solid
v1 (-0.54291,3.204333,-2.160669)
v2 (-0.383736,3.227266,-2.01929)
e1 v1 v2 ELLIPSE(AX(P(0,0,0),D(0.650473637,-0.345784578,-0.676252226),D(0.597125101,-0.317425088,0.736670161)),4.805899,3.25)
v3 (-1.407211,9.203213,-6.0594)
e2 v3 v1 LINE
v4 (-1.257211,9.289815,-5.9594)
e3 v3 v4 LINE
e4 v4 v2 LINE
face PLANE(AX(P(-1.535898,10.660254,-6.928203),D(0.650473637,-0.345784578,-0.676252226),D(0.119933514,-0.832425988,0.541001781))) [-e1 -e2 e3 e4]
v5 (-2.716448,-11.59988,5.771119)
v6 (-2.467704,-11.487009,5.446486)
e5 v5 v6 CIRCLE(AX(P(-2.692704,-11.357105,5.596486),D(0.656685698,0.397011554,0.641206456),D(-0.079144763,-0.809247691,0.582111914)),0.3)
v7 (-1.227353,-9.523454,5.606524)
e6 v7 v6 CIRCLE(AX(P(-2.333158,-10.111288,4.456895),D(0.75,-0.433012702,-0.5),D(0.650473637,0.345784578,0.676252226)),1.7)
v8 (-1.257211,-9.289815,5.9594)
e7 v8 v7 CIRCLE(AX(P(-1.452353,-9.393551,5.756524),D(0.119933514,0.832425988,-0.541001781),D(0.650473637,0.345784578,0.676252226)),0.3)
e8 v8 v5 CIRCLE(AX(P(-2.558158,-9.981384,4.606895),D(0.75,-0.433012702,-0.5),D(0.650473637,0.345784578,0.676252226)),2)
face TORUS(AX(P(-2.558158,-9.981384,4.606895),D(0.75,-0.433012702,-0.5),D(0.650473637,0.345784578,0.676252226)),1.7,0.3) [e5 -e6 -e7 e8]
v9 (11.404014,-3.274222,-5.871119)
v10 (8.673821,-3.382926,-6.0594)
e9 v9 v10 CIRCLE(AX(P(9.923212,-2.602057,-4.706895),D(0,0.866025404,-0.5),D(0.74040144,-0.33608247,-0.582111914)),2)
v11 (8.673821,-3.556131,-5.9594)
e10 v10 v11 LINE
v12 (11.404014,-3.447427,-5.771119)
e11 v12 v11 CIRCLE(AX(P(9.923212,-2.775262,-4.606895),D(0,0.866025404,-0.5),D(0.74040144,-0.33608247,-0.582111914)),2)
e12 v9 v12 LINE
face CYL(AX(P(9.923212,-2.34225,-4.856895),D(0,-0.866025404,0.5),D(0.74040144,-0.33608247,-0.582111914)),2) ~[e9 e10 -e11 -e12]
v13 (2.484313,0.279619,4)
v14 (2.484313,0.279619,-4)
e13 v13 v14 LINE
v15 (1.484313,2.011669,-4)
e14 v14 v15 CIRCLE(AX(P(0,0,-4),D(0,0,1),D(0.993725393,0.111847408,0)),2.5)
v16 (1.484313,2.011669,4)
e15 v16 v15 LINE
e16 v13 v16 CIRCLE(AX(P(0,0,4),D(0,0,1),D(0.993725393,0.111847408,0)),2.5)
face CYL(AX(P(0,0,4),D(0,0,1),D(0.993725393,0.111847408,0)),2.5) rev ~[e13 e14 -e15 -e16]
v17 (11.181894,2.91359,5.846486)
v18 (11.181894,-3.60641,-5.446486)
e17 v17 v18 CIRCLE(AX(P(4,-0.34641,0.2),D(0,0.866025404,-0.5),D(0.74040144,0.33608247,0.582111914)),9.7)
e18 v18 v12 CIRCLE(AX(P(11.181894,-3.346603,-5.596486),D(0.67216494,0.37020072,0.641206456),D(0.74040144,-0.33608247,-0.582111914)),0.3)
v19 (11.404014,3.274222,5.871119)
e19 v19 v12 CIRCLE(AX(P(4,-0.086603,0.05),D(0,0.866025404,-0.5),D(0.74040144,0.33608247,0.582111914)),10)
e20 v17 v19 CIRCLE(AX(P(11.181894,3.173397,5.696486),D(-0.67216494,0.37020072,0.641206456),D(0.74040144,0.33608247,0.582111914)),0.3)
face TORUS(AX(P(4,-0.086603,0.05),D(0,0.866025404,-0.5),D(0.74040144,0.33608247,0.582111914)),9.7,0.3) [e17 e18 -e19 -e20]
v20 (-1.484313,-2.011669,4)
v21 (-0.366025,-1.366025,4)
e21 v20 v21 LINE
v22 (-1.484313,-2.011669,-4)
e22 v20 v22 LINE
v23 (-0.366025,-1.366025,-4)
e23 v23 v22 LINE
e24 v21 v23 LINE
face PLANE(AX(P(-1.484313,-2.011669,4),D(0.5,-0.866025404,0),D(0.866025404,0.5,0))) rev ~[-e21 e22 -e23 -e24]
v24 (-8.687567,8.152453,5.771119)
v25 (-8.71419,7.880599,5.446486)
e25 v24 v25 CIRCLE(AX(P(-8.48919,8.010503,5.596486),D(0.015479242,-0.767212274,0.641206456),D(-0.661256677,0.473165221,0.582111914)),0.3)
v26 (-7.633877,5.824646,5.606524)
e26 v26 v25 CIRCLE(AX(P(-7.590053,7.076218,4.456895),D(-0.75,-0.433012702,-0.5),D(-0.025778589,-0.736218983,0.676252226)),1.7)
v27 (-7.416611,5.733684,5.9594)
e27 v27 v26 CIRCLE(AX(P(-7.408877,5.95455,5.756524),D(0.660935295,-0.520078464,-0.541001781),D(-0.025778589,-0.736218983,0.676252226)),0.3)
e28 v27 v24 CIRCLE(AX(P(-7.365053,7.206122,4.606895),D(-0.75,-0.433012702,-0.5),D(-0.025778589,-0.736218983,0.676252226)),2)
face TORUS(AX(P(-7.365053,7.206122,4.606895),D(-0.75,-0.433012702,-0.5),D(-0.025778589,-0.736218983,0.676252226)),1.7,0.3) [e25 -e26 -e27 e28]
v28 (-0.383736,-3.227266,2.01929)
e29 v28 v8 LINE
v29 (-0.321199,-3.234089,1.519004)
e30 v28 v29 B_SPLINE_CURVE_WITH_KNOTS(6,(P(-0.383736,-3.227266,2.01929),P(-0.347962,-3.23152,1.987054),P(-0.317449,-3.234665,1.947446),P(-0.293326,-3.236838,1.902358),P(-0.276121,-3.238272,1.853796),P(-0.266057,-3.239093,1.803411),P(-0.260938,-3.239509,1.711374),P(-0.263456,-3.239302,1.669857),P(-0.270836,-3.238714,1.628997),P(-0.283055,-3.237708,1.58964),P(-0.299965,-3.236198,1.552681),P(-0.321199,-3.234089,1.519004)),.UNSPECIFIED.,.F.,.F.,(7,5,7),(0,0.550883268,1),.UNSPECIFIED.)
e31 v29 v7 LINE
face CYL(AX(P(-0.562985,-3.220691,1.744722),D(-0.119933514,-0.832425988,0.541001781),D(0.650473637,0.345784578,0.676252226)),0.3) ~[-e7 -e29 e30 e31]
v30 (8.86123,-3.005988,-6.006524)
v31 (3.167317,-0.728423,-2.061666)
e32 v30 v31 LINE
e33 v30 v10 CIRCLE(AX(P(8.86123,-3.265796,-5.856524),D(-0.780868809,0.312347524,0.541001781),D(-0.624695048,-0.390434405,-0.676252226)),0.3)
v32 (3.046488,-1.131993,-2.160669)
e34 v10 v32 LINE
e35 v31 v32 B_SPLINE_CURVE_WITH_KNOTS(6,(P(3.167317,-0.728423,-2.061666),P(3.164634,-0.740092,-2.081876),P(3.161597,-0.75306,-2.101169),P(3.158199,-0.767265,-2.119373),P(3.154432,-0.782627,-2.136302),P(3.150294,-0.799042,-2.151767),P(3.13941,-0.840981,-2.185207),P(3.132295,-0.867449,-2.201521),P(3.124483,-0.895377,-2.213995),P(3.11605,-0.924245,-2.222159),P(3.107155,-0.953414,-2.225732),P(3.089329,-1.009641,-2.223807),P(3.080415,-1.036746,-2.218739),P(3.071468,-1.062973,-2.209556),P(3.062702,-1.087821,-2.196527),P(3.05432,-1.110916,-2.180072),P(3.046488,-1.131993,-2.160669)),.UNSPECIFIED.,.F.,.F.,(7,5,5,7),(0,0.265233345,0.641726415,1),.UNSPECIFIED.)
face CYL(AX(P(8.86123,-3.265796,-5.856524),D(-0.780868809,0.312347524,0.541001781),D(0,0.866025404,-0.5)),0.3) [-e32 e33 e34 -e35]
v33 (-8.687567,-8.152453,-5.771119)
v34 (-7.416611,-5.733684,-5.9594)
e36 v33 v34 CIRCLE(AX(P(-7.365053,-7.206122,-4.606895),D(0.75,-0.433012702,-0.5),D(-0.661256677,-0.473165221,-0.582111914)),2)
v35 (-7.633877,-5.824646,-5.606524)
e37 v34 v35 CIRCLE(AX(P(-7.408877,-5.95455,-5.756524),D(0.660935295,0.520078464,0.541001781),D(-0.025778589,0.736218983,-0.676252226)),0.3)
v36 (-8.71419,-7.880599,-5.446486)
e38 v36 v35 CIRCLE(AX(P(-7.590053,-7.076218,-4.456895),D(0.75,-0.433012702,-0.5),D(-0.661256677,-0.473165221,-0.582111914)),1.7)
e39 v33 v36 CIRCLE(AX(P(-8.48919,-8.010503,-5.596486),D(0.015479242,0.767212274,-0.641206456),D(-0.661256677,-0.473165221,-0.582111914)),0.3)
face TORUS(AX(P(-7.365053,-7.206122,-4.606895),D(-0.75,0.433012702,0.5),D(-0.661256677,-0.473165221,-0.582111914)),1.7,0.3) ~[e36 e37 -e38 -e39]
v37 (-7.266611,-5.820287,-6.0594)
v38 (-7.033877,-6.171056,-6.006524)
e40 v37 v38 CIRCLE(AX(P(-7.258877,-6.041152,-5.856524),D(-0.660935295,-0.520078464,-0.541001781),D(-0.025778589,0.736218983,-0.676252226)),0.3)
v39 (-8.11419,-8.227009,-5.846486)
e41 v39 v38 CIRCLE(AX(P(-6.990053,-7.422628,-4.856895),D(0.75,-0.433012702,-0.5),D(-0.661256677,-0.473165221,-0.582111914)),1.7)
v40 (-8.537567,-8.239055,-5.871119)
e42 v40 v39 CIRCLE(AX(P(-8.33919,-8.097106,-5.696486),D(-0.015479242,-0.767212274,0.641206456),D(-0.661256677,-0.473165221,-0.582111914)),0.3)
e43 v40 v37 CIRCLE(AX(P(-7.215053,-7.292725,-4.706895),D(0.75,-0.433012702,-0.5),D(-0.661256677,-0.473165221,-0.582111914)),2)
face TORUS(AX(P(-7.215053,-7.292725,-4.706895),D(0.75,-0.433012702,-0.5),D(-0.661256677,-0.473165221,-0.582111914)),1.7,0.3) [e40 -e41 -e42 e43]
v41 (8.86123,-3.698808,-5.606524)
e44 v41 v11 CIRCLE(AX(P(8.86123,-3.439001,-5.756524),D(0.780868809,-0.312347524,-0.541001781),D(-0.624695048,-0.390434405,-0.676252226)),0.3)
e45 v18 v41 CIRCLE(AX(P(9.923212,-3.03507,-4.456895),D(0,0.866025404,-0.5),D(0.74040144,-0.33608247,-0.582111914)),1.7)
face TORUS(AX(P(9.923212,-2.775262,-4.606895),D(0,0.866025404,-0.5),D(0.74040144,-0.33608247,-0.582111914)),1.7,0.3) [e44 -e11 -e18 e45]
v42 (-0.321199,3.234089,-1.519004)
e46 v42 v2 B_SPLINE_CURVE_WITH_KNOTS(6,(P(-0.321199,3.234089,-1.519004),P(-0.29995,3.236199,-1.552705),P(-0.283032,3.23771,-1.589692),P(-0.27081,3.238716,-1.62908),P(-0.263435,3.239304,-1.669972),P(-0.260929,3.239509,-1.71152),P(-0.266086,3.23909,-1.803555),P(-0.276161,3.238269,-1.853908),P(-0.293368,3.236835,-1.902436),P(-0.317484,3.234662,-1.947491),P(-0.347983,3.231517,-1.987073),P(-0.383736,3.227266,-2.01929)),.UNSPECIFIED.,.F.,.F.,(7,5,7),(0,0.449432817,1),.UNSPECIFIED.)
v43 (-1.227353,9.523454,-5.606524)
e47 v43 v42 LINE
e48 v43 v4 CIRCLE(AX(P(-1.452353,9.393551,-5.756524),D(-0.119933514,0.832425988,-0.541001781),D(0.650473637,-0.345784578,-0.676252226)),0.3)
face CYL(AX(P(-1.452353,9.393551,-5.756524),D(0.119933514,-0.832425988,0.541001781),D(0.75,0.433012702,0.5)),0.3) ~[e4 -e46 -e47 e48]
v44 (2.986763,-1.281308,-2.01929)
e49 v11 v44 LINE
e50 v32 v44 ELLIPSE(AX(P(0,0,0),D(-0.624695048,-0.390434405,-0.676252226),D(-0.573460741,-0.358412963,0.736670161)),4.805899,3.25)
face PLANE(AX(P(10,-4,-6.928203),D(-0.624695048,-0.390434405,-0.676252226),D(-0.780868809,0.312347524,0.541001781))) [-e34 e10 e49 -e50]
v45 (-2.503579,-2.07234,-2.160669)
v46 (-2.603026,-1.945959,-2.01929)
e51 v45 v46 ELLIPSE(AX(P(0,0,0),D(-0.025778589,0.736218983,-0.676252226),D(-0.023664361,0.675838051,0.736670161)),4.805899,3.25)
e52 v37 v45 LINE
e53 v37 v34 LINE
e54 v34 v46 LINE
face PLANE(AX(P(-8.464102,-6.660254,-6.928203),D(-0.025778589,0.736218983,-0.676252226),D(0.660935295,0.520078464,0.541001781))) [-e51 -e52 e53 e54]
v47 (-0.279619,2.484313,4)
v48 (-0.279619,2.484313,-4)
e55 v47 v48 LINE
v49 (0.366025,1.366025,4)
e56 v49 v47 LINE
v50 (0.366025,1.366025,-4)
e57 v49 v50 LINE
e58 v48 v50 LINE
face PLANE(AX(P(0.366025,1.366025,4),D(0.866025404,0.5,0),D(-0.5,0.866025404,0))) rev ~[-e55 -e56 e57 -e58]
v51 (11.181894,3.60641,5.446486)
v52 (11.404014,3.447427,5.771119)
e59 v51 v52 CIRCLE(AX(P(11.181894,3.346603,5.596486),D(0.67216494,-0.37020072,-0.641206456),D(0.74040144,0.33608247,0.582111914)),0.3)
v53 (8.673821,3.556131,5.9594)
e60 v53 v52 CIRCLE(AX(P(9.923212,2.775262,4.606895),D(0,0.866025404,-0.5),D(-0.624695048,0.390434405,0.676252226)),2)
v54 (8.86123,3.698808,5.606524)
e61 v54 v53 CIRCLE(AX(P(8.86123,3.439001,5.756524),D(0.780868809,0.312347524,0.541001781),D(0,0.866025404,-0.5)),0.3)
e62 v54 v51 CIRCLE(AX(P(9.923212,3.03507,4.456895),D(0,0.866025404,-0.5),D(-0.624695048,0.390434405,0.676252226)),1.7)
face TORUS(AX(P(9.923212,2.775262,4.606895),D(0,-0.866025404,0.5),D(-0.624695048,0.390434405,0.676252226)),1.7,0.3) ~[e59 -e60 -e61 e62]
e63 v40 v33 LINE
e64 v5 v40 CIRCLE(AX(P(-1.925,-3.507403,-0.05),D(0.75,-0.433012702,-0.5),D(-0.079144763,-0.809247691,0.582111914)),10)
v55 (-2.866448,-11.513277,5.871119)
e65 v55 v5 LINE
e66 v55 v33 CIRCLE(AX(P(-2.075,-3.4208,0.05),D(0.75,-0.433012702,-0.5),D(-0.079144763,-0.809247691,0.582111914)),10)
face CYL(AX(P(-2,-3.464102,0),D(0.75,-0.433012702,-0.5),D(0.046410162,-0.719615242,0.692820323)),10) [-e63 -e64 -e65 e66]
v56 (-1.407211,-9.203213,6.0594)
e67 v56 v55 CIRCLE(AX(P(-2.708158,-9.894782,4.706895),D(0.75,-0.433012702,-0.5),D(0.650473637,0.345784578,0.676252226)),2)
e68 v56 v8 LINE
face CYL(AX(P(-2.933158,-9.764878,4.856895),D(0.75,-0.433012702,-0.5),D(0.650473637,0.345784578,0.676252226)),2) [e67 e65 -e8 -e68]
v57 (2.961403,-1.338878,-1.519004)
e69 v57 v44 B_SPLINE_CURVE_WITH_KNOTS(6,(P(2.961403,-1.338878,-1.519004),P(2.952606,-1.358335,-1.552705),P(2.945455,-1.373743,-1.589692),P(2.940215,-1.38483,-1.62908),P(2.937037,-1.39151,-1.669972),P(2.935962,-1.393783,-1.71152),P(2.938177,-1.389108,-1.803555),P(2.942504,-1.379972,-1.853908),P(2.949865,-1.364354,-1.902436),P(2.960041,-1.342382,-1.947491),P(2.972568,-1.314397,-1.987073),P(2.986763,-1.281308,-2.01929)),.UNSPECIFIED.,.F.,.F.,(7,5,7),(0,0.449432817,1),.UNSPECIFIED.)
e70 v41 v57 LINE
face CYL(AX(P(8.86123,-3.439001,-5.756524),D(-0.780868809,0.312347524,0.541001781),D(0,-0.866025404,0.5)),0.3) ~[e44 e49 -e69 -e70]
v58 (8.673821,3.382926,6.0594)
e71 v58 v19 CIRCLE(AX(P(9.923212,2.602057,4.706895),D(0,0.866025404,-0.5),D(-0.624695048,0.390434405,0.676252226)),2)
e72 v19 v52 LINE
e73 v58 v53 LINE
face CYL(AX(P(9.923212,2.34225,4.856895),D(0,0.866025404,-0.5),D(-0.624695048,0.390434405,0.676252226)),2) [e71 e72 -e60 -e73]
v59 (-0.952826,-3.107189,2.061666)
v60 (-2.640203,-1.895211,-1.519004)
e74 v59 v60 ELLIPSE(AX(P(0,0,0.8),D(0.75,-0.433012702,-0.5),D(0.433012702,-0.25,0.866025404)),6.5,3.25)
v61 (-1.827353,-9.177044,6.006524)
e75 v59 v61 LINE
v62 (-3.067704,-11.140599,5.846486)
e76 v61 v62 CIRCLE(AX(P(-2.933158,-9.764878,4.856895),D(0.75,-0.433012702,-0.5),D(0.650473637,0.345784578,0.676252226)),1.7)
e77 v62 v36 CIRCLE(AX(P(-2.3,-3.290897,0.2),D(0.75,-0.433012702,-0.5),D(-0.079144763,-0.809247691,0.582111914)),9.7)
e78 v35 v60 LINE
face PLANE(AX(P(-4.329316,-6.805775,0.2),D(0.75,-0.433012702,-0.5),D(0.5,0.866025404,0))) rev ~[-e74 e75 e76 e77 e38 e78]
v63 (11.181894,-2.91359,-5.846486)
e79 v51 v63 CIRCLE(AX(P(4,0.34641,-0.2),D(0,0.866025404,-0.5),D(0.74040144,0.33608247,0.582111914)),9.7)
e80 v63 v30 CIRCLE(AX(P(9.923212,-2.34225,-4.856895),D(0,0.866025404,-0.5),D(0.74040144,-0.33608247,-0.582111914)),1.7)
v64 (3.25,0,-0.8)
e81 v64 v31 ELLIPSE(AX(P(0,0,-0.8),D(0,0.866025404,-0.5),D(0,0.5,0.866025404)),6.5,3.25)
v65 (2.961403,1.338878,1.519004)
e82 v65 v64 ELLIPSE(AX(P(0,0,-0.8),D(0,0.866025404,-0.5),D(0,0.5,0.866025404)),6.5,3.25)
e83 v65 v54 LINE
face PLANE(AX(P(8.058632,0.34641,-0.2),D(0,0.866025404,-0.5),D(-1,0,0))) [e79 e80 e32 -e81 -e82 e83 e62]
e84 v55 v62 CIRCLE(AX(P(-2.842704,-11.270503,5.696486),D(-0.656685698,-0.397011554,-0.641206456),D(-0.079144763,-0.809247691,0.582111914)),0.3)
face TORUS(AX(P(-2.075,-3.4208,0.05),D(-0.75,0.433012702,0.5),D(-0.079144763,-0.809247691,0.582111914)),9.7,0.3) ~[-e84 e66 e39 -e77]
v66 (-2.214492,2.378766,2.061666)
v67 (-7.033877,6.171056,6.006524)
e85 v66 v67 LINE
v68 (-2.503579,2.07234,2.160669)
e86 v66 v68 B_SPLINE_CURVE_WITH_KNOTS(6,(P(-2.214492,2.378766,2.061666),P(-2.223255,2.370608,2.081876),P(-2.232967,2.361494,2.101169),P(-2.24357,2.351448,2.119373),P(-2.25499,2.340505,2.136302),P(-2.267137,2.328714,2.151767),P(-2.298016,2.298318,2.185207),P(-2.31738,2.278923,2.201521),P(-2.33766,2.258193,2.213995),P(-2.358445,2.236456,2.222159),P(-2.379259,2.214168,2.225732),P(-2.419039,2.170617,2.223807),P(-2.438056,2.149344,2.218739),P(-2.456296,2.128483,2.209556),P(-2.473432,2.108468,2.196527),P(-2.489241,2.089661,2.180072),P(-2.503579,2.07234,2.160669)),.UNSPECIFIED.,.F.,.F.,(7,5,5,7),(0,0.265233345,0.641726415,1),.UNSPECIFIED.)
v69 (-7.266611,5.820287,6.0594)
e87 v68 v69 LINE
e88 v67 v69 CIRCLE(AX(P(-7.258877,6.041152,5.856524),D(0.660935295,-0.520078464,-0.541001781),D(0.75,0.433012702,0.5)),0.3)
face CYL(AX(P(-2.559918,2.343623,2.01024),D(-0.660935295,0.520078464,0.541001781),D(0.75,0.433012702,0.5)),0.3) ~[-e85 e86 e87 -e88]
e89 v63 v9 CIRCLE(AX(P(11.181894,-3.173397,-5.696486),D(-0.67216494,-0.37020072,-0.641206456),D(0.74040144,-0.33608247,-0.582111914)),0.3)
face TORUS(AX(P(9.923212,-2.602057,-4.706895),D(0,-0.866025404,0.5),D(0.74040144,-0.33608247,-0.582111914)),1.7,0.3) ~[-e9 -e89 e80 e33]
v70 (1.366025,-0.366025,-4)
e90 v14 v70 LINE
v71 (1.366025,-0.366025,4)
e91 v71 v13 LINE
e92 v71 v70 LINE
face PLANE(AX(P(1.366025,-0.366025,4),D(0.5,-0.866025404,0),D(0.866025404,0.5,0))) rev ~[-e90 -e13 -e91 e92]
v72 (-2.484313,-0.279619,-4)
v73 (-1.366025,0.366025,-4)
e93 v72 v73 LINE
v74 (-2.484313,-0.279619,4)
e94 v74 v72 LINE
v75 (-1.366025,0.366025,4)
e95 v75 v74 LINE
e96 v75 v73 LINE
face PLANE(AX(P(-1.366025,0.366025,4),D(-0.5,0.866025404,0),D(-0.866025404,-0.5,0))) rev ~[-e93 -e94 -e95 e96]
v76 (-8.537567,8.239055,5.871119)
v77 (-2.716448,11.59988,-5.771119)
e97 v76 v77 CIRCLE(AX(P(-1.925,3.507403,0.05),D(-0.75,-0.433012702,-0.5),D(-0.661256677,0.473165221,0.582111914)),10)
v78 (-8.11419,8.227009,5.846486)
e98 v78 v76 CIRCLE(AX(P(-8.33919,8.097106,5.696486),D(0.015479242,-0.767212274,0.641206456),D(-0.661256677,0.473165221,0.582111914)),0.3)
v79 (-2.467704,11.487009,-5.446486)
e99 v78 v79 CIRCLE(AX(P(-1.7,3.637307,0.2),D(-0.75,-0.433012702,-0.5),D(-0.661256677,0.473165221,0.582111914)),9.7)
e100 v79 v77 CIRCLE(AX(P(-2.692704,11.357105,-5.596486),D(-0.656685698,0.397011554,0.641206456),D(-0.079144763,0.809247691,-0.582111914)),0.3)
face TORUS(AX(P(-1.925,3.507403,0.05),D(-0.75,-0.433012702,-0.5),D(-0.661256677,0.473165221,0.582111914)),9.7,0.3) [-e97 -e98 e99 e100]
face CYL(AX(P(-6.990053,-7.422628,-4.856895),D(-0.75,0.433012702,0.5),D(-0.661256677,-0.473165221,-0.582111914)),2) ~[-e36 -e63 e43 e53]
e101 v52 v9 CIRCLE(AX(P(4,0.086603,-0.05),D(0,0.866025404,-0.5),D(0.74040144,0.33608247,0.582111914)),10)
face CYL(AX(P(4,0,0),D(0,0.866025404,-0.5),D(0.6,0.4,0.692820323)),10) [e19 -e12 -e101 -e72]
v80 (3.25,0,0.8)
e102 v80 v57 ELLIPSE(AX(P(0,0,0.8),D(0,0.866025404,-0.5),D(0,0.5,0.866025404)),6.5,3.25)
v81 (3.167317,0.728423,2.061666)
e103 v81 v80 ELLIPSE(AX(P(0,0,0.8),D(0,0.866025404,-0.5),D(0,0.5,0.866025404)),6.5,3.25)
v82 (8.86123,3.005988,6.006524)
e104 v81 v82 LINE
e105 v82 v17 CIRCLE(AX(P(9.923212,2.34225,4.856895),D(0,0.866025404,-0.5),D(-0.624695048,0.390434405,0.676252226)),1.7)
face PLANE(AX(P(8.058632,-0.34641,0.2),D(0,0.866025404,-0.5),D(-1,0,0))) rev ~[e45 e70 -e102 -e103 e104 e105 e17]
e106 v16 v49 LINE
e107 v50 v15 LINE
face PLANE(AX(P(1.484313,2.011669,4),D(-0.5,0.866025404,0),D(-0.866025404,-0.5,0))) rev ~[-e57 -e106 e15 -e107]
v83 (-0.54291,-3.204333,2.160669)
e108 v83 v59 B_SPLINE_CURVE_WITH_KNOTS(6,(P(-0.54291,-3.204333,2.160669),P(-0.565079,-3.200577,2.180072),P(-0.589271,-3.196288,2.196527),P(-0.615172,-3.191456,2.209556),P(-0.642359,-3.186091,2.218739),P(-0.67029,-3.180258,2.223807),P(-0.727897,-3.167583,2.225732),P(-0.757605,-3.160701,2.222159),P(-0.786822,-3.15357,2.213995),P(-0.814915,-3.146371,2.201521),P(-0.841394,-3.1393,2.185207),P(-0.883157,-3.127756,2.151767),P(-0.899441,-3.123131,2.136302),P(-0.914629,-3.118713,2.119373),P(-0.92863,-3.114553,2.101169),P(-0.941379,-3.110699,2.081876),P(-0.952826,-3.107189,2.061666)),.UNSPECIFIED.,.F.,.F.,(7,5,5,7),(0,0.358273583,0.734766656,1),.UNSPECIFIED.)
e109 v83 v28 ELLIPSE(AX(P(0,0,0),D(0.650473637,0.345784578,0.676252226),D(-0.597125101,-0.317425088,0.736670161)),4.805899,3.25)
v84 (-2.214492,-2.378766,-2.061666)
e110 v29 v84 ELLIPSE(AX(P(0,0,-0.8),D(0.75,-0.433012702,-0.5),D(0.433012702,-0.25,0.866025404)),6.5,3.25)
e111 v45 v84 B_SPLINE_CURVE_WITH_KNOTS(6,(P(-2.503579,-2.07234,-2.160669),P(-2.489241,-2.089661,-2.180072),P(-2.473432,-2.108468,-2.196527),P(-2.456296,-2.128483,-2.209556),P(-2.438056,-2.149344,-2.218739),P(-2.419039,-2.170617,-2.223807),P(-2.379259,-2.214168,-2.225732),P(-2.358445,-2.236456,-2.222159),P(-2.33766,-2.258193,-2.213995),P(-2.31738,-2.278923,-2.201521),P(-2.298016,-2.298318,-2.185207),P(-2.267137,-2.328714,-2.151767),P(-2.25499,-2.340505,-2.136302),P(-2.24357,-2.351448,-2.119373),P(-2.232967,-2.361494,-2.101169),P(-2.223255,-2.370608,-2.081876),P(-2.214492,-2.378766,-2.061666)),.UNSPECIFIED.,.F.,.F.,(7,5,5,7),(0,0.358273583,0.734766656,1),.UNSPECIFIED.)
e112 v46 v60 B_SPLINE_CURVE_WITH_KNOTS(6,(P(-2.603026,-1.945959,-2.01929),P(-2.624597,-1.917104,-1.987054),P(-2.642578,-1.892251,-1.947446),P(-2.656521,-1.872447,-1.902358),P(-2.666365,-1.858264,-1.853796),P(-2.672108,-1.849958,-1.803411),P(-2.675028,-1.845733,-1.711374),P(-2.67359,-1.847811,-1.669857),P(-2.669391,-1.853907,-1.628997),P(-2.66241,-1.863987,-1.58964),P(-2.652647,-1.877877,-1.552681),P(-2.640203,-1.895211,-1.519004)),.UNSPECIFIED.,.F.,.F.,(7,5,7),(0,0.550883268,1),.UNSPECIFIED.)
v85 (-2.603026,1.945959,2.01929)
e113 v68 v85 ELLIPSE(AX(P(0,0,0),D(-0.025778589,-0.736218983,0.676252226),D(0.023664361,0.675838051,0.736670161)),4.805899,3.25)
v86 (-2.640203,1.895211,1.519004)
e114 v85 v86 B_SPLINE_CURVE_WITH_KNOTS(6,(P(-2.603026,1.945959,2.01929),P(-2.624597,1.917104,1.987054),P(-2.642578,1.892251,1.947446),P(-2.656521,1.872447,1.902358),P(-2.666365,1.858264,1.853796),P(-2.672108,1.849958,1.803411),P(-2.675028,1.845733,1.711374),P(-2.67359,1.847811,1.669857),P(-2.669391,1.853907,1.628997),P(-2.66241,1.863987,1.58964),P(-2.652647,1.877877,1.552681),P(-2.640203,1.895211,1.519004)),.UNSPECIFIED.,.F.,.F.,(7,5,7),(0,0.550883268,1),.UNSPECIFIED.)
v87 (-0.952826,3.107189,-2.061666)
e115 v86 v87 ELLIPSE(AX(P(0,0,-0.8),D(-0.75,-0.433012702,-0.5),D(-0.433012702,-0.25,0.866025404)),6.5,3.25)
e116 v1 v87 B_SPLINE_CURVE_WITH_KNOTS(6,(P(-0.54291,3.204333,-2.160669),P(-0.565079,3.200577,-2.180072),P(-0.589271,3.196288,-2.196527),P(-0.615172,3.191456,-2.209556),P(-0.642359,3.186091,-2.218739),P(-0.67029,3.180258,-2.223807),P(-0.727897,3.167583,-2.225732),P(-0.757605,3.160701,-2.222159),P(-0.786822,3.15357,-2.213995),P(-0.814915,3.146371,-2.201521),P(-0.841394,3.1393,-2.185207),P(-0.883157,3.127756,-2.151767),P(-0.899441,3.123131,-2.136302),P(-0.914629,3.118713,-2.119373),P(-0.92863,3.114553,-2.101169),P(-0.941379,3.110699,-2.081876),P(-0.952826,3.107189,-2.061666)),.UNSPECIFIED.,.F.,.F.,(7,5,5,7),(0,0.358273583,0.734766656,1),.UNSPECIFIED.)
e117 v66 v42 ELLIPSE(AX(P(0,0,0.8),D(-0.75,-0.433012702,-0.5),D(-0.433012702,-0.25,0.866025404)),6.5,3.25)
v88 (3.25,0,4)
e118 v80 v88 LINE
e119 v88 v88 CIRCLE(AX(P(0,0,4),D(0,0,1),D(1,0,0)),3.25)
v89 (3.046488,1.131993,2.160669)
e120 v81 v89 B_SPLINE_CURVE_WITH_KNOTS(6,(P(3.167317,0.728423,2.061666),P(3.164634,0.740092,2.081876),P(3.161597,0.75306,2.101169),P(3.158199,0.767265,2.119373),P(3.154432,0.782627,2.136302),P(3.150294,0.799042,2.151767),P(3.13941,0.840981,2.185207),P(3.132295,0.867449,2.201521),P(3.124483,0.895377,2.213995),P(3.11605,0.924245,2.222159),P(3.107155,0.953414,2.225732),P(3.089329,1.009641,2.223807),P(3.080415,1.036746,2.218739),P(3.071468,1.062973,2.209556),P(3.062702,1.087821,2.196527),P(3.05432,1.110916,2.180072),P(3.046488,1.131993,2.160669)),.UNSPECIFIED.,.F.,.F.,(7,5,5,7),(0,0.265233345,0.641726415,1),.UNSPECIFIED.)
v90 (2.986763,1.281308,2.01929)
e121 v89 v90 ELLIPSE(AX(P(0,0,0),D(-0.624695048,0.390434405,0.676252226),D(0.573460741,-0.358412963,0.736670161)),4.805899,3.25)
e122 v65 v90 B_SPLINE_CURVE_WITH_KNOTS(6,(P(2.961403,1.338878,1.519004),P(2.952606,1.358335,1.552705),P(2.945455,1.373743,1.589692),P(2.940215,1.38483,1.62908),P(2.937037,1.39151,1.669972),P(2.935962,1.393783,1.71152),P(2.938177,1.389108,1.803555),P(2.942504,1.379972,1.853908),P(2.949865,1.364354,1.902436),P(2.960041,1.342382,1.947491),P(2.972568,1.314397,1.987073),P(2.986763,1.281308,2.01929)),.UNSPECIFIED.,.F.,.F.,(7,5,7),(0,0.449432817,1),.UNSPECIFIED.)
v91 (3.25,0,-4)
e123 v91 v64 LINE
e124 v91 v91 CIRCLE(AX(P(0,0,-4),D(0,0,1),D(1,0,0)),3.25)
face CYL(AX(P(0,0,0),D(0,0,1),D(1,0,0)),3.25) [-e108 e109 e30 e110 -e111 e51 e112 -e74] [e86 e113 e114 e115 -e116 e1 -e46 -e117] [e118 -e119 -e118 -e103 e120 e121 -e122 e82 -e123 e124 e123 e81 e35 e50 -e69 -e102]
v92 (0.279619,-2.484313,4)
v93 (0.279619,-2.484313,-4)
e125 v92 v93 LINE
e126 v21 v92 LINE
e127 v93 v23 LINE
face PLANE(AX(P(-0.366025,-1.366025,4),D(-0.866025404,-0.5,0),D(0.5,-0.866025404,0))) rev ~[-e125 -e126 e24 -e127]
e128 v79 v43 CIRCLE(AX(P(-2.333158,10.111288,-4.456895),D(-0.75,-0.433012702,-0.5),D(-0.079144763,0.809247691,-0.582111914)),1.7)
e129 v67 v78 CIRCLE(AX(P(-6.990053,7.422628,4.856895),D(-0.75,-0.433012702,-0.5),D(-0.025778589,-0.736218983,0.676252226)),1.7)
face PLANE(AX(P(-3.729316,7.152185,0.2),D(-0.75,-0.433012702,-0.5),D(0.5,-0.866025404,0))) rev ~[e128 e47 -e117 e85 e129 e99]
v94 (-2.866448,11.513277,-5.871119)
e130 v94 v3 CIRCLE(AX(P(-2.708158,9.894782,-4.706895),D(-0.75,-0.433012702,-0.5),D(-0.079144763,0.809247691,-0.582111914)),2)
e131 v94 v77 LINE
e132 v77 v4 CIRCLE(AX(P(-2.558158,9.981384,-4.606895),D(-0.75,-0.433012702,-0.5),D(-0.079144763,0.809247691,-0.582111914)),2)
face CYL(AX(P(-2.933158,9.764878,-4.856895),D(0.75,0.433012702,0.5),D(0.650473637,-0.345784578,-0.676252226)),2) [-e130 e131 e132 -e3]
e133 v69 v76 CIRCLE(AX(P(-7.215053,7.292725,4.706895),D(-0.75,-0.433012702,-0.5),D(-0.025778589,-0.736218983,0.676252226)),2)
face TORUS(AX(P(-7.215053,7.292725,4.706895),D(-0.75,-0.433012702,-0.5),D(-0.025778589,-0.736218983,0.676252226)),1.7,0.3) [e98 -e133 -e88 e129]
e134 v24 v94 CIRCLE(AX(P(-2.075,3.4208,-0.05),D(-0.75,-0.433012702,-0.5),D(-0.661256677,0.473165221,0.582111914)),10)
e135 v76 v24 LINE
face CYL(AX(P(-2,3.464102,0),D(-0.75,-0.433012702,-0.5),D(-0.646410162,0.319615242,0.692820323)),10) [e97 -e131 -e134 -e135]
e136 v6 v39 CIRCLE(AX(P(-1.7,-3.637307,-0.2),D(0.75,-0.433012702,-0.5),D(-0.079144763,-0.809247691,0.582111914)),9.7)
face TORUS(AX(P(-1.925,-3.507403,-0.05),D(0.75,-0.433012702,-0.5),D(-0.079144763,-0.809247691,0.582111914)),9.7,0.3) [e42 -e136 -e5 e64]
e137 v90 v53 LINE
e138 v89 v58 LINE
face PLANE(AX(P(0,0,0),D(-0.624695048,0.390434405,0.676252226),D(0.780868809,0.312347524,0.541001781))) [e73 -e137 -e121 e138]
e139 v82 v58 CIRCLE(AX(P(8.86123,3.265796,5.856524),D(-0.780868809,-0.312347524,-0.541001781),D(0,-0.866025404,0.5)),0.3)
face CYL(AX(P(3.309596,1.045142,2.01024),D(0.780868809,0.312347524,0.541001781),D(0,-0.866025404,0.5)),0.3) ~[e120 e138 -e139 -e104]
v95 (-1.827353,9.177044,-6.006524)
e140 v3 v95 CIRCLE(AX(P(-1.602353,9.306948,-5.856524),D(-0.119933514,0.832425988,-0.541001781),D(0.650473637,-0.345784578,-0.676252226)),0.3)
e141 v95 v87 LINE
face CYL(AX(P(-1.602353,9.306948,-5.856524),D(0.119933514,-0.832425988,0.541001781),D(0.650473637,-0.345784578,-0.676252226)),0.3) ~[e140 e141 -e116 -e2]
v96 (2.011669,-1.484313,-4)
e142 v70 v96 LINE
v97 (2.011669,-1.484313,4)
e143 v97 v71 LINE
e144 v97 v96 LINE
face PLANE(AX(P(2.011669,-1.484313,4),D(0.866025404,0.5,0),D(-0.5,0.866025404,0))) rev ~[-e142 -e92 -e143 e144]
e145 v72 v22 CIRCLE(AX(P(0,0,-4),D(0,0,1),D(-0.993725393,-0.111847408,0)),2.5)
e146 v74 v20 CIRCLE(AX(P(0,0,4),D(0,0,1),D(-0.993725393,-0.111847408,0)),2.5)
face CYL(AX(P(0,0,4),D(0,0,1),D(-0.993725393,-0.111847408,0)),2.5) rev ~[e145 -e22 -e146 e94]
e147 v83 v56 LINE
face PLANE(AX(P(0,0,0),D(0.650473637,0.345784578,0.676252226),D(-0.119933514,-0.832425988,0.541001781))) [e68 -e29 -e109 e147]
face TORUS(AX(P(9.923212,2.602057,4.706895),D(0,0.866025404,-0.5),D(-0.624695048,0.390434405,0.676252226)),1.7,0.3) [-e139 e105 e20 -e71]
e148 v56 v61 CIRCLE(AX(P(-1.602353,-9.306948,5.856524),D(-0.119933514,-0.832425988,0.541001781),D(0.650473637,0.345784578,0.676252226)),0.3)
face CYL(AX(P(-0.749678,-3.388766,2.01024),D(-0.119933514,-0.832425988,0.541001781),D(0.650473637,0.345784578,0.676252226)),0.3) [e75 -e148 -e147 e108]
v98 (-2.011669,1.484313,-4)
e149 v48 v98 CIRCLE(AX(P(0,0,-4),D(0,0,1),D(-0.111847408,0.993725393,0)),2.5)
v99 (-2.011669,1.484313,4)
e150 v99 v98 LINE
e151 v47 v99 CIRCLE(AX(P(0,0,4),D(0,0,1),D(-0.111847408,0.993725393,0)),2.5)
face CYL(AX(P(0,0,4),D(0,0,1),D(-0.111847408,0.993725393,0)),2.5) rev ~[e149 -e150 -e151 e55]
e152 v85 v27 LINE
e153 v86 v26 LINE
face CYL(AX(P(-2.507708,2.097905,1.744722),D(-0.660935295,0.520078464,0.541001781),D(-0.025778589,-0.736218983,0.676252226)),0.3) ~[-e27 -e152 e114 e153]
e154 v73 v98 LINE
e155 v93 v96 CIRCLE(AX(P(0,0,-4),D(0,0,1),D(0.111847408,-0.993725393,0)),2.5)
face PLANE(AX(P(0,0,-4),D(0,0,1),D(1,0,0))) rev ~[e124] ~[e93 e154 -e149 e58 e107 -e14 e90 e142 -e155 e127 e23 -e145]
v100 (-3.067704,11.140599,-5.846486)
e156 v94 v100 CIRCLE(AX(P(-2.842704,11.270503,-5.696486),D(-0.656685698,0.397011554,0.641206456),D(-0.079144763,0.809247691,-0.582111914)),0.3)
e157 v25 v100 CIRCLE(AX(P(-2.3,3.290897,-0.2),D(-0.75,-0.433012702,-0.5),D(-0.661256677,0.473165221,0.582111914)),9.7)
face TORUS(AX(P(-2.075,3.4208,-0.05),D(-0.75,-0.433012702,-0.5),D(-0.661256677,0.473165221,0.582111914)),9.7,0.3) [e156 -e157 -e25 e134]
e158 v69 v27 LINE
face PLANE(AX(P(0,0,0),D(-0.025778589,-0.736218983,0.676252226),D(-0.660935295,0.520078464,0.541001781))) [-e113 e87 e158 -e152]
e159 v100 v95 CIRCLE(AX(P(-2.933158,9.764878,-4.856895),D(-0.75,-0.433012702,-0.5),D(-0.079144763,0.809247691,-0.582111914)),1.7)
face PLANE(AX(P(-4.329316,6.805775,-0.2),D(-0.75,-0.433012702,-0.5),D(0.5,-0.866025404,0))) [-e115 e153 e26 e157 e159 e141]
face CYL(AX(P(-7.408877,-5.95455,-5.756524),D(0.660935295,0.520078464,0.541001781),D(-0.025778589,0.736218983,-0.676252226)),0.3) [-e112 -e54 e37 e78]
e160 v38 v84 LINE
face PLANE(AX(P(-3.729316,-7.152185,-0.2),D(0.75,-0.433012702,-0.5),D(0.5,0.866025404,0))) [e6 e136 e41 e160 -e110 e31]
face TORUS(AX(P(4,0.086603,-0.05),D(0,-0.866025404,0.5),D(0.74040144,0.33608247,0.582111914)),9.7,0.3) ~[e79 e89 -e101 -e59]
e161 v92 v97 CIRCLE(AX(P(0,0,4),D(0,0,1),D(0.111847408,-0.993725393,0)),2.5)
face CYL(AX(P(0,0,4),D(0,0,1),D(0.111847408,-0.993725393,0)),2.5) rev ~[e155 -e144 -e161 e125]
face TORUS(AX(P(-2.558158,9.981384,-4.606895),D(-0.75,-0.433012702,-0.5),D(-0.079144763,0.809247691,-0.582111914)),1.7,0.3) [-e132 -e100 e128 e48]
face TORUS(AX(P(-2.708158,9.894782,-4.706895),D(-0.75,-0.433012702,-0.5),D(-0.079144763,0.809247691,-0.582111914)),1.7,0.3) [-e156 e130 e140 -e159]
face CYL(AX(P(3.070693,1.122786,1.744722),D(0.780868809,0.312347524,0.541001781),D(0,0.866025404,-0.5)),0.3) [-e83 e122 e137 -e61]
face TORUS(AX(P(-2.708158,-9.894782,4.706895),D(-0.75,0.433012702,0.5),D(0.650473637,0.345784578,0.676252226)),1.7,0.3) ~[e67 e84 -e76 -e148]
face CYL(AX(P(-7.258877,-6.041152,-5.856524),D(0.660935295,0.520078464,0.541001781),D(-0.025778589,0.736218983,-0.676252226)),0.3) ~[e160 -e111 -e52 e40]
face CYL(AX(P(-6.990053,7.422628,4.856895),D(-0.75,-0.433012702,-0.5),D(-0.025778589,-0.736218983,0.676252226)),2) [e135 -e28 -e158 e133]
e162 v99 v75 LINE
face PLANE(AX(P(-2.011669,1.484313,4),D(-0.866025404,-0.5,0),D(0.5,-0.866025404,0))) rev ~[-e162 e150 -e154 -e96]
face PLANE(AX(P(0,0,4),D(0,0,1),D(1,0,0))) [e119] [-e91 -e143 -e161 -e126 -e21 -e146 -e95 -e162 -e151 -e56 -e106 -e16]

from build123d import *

# Parameters (mm, degrees)
SKETCH1_R                = 3.25
BOSS_EXTRUDE1_DEPTH      = 4
BOSS_EXTRUDE4_DEPTH      = 0.4
FILLET1_R                = 2
CIRPATTERN2_COUNT        = 3
FILLET1_OF_CIRPATTERN2_R = 2
CUT_EXTRUDE1_REACH       = 23.637
FILLET2_R                = 0.3


with BuildPart() as part:
    # Sketch1 → Boss-Extrude1 (new, symmetric)
    with BuildSketch(Plane.XY):
        Circle(SKETCH1_R)
    extrude(amount=BOSS_EXTRUDE1_DEPTH, both=True)

    # Sketch6 → Boss-Extrude4 (add, symmetric)
    with BuildSketch(Plane(origin=(0, 0, 0), x_dir=(-1, 0, 0), z_dir=(0, 0.866025403784438, -0.500000000000001))):
        with BuildLine():
            Line((0, 0), (-10, 8))
            ThreePointArc((-10, 8), (-14, 0), (-10, -8))
            Line((-10, -8), (0, 0))
        make_face()
    boss_extrude4 = extrude(amount=BOSS_EXTRUDE4_DEPTH, both=True)

    # Fillet1
    fillet1_edges = [part.edges().sort_by_distance(p)[0] for p in [
        (10, -4, -6.92820323),
        (10, 4, 6.92820323),
    ]]
    fillet(fillet1_edges, radius=FILLET1_R)

    # CirPattern2: Boss-Extrude4 ×3 about axis
    cirpattern2_axis = Axis((0, 0, 4), (0, 0, -1))
    for i in range(1, CIRPATTERN2_COUNT):
        add(boss_extrude4.rotate(cirpattern2_axis, i * 360 / CIRPATTERN2_COUNT))

    # Fillet1 of CirPattern2
    fillet1_of_cirpattern2_edges = [part.edges().sort_by_distance(p)[0] for p in [
        (-8.464101615, -6.660254038, -6.92820323),
        (-1.535898385, -10.660254038, 6.92820323),
        (-1.535898385, 10.660254038, -6.92820323),
        (-8.464101615, 6.660254038, 6.92820323),
    ]]
    fillet(fillet1_of_cirpattern2_edges, radius=FILLET1_OF_CIRPATTERN2_R)

    # Sketch7 → Cut-Extrude1 (cut, up to next)
    with BuildSketch(Plane.XY.offset(4), mode=Mode.PRIVATE) as cut_extrude1_sk1:
        with BuildLine():
            Line((1.484313483, 2.011669328), (0.366025404, 1.366025404))
            Line((0.366025404, 1.366025404), (-0.27961852, 2.484313483))
            ThreePointArc((-0.27961852, 2.484313483), (-1.25, 2.165063509), (-2.011669328, 1.484313483))
            Line((-2.011669328, 1.484313483), (-1.366025404, 0.366025404))
            Line((-1.366025404, 0.366025404), (-2.484313483, -0.27961852))
            ThreePointArc((-2.484313483, -0.27961852), (-2.165063509, -1.25), (-1.484313483, -2.011669328))
            Line((-1.484313483, -2.011669328), (-0.366025404, -1.366025404))
            Line((-0.366025404, -1.366025404), (0.27961852, -2.484313483))
            ThreePointArc((0.27961852, -2.484313483), (1.25, -2.165063509), (2.011669328, -1.484313483))
            Line((2.011669328, -1.484313483), (1.366025404, -0.366025404))
            Line((1.366025404, -0.366025404), (2.484313483, 0.27961852))
            ThreePointArc((2.484313483, 0.27961852), (2.165063509, 1.25), (1.484313483, 2.011669328))
        make_face()
    cut_extrude1_tool1 = extrude(cut_extrude1_sk1.sketch, amount=-CUT_EXTRUDE1_REACH, mode=Mode.PRIVATE) & part.part
    add(cut_extrude1_tool1.solids().sort_by_distance((0, 0, 4))[0], mode=Mode.SUBTRACT)

    # Fillet2
    fillet2_edges = [part.edges().sort_by_distance(p)[0] for p in [
        (-1.20587358, -6.114217695, 4.286257479),
        (-2.149245107, -10.400789842, 6.583480561),
        (-7.3, -11.951150572, 0.2),
        (-8.532725669, -6.715285621, -6.183480561),
        (-0.587527, -6.333289225, 3.803498858),
        (-1.549245107, -10.747200003, 6.183480561),
        (-6.7, -12.297560734, -0.2),
        (-7.932725669, -7.061695783, -6.583480561),
        (-5.191025858, 3.67545792, 3.803498858),
        (-8.532725669, 6.715285621, 6.183480561),
        (-7.3, 11.951150572, -0.2),
        (-1.20587358, 6.114217695, -4.286257479),
        (-0.587527, 6.333289225, -3.803498858),
        (-4.692131059, 4.101426001, 4.286257479),
        (-7.932725669, 7.061695783, 6.583480561),
        (-6.7, 12.297560734, 0.2),
        (5.778552858, -2.657831305, -3.803498858),
        (10.081970776, -4.031914382, -6.183480561),
        (14, -0.346410162, 0.2),
        (10.081970776, 3.339094059, 6.583480561),
        (5.898004638, -2.012791694, -4.286257479),
        (10.081970776, -3.339094059, -6.583480561),
        (14, 0.346410162, -0.2),
        (10.081970776, 4.031914382, 6.183480561),
        (-5.191025858, -3.67545792, -3.803498858),
        (-4.692131059, -4.101426001, -4.286257479),
        (-2.149245107, 10.400789842, -6.583480561),
        (-1.549245107, 10.747200003, -6.183480561),
        (5.898004638, 2.012791694, 4.286257479),
        (5.778552858, 2.657831305, 3.803498858),
    ]]
    fillet(fillet2_edges, radius=FILLET2_R)


solid = part.part
